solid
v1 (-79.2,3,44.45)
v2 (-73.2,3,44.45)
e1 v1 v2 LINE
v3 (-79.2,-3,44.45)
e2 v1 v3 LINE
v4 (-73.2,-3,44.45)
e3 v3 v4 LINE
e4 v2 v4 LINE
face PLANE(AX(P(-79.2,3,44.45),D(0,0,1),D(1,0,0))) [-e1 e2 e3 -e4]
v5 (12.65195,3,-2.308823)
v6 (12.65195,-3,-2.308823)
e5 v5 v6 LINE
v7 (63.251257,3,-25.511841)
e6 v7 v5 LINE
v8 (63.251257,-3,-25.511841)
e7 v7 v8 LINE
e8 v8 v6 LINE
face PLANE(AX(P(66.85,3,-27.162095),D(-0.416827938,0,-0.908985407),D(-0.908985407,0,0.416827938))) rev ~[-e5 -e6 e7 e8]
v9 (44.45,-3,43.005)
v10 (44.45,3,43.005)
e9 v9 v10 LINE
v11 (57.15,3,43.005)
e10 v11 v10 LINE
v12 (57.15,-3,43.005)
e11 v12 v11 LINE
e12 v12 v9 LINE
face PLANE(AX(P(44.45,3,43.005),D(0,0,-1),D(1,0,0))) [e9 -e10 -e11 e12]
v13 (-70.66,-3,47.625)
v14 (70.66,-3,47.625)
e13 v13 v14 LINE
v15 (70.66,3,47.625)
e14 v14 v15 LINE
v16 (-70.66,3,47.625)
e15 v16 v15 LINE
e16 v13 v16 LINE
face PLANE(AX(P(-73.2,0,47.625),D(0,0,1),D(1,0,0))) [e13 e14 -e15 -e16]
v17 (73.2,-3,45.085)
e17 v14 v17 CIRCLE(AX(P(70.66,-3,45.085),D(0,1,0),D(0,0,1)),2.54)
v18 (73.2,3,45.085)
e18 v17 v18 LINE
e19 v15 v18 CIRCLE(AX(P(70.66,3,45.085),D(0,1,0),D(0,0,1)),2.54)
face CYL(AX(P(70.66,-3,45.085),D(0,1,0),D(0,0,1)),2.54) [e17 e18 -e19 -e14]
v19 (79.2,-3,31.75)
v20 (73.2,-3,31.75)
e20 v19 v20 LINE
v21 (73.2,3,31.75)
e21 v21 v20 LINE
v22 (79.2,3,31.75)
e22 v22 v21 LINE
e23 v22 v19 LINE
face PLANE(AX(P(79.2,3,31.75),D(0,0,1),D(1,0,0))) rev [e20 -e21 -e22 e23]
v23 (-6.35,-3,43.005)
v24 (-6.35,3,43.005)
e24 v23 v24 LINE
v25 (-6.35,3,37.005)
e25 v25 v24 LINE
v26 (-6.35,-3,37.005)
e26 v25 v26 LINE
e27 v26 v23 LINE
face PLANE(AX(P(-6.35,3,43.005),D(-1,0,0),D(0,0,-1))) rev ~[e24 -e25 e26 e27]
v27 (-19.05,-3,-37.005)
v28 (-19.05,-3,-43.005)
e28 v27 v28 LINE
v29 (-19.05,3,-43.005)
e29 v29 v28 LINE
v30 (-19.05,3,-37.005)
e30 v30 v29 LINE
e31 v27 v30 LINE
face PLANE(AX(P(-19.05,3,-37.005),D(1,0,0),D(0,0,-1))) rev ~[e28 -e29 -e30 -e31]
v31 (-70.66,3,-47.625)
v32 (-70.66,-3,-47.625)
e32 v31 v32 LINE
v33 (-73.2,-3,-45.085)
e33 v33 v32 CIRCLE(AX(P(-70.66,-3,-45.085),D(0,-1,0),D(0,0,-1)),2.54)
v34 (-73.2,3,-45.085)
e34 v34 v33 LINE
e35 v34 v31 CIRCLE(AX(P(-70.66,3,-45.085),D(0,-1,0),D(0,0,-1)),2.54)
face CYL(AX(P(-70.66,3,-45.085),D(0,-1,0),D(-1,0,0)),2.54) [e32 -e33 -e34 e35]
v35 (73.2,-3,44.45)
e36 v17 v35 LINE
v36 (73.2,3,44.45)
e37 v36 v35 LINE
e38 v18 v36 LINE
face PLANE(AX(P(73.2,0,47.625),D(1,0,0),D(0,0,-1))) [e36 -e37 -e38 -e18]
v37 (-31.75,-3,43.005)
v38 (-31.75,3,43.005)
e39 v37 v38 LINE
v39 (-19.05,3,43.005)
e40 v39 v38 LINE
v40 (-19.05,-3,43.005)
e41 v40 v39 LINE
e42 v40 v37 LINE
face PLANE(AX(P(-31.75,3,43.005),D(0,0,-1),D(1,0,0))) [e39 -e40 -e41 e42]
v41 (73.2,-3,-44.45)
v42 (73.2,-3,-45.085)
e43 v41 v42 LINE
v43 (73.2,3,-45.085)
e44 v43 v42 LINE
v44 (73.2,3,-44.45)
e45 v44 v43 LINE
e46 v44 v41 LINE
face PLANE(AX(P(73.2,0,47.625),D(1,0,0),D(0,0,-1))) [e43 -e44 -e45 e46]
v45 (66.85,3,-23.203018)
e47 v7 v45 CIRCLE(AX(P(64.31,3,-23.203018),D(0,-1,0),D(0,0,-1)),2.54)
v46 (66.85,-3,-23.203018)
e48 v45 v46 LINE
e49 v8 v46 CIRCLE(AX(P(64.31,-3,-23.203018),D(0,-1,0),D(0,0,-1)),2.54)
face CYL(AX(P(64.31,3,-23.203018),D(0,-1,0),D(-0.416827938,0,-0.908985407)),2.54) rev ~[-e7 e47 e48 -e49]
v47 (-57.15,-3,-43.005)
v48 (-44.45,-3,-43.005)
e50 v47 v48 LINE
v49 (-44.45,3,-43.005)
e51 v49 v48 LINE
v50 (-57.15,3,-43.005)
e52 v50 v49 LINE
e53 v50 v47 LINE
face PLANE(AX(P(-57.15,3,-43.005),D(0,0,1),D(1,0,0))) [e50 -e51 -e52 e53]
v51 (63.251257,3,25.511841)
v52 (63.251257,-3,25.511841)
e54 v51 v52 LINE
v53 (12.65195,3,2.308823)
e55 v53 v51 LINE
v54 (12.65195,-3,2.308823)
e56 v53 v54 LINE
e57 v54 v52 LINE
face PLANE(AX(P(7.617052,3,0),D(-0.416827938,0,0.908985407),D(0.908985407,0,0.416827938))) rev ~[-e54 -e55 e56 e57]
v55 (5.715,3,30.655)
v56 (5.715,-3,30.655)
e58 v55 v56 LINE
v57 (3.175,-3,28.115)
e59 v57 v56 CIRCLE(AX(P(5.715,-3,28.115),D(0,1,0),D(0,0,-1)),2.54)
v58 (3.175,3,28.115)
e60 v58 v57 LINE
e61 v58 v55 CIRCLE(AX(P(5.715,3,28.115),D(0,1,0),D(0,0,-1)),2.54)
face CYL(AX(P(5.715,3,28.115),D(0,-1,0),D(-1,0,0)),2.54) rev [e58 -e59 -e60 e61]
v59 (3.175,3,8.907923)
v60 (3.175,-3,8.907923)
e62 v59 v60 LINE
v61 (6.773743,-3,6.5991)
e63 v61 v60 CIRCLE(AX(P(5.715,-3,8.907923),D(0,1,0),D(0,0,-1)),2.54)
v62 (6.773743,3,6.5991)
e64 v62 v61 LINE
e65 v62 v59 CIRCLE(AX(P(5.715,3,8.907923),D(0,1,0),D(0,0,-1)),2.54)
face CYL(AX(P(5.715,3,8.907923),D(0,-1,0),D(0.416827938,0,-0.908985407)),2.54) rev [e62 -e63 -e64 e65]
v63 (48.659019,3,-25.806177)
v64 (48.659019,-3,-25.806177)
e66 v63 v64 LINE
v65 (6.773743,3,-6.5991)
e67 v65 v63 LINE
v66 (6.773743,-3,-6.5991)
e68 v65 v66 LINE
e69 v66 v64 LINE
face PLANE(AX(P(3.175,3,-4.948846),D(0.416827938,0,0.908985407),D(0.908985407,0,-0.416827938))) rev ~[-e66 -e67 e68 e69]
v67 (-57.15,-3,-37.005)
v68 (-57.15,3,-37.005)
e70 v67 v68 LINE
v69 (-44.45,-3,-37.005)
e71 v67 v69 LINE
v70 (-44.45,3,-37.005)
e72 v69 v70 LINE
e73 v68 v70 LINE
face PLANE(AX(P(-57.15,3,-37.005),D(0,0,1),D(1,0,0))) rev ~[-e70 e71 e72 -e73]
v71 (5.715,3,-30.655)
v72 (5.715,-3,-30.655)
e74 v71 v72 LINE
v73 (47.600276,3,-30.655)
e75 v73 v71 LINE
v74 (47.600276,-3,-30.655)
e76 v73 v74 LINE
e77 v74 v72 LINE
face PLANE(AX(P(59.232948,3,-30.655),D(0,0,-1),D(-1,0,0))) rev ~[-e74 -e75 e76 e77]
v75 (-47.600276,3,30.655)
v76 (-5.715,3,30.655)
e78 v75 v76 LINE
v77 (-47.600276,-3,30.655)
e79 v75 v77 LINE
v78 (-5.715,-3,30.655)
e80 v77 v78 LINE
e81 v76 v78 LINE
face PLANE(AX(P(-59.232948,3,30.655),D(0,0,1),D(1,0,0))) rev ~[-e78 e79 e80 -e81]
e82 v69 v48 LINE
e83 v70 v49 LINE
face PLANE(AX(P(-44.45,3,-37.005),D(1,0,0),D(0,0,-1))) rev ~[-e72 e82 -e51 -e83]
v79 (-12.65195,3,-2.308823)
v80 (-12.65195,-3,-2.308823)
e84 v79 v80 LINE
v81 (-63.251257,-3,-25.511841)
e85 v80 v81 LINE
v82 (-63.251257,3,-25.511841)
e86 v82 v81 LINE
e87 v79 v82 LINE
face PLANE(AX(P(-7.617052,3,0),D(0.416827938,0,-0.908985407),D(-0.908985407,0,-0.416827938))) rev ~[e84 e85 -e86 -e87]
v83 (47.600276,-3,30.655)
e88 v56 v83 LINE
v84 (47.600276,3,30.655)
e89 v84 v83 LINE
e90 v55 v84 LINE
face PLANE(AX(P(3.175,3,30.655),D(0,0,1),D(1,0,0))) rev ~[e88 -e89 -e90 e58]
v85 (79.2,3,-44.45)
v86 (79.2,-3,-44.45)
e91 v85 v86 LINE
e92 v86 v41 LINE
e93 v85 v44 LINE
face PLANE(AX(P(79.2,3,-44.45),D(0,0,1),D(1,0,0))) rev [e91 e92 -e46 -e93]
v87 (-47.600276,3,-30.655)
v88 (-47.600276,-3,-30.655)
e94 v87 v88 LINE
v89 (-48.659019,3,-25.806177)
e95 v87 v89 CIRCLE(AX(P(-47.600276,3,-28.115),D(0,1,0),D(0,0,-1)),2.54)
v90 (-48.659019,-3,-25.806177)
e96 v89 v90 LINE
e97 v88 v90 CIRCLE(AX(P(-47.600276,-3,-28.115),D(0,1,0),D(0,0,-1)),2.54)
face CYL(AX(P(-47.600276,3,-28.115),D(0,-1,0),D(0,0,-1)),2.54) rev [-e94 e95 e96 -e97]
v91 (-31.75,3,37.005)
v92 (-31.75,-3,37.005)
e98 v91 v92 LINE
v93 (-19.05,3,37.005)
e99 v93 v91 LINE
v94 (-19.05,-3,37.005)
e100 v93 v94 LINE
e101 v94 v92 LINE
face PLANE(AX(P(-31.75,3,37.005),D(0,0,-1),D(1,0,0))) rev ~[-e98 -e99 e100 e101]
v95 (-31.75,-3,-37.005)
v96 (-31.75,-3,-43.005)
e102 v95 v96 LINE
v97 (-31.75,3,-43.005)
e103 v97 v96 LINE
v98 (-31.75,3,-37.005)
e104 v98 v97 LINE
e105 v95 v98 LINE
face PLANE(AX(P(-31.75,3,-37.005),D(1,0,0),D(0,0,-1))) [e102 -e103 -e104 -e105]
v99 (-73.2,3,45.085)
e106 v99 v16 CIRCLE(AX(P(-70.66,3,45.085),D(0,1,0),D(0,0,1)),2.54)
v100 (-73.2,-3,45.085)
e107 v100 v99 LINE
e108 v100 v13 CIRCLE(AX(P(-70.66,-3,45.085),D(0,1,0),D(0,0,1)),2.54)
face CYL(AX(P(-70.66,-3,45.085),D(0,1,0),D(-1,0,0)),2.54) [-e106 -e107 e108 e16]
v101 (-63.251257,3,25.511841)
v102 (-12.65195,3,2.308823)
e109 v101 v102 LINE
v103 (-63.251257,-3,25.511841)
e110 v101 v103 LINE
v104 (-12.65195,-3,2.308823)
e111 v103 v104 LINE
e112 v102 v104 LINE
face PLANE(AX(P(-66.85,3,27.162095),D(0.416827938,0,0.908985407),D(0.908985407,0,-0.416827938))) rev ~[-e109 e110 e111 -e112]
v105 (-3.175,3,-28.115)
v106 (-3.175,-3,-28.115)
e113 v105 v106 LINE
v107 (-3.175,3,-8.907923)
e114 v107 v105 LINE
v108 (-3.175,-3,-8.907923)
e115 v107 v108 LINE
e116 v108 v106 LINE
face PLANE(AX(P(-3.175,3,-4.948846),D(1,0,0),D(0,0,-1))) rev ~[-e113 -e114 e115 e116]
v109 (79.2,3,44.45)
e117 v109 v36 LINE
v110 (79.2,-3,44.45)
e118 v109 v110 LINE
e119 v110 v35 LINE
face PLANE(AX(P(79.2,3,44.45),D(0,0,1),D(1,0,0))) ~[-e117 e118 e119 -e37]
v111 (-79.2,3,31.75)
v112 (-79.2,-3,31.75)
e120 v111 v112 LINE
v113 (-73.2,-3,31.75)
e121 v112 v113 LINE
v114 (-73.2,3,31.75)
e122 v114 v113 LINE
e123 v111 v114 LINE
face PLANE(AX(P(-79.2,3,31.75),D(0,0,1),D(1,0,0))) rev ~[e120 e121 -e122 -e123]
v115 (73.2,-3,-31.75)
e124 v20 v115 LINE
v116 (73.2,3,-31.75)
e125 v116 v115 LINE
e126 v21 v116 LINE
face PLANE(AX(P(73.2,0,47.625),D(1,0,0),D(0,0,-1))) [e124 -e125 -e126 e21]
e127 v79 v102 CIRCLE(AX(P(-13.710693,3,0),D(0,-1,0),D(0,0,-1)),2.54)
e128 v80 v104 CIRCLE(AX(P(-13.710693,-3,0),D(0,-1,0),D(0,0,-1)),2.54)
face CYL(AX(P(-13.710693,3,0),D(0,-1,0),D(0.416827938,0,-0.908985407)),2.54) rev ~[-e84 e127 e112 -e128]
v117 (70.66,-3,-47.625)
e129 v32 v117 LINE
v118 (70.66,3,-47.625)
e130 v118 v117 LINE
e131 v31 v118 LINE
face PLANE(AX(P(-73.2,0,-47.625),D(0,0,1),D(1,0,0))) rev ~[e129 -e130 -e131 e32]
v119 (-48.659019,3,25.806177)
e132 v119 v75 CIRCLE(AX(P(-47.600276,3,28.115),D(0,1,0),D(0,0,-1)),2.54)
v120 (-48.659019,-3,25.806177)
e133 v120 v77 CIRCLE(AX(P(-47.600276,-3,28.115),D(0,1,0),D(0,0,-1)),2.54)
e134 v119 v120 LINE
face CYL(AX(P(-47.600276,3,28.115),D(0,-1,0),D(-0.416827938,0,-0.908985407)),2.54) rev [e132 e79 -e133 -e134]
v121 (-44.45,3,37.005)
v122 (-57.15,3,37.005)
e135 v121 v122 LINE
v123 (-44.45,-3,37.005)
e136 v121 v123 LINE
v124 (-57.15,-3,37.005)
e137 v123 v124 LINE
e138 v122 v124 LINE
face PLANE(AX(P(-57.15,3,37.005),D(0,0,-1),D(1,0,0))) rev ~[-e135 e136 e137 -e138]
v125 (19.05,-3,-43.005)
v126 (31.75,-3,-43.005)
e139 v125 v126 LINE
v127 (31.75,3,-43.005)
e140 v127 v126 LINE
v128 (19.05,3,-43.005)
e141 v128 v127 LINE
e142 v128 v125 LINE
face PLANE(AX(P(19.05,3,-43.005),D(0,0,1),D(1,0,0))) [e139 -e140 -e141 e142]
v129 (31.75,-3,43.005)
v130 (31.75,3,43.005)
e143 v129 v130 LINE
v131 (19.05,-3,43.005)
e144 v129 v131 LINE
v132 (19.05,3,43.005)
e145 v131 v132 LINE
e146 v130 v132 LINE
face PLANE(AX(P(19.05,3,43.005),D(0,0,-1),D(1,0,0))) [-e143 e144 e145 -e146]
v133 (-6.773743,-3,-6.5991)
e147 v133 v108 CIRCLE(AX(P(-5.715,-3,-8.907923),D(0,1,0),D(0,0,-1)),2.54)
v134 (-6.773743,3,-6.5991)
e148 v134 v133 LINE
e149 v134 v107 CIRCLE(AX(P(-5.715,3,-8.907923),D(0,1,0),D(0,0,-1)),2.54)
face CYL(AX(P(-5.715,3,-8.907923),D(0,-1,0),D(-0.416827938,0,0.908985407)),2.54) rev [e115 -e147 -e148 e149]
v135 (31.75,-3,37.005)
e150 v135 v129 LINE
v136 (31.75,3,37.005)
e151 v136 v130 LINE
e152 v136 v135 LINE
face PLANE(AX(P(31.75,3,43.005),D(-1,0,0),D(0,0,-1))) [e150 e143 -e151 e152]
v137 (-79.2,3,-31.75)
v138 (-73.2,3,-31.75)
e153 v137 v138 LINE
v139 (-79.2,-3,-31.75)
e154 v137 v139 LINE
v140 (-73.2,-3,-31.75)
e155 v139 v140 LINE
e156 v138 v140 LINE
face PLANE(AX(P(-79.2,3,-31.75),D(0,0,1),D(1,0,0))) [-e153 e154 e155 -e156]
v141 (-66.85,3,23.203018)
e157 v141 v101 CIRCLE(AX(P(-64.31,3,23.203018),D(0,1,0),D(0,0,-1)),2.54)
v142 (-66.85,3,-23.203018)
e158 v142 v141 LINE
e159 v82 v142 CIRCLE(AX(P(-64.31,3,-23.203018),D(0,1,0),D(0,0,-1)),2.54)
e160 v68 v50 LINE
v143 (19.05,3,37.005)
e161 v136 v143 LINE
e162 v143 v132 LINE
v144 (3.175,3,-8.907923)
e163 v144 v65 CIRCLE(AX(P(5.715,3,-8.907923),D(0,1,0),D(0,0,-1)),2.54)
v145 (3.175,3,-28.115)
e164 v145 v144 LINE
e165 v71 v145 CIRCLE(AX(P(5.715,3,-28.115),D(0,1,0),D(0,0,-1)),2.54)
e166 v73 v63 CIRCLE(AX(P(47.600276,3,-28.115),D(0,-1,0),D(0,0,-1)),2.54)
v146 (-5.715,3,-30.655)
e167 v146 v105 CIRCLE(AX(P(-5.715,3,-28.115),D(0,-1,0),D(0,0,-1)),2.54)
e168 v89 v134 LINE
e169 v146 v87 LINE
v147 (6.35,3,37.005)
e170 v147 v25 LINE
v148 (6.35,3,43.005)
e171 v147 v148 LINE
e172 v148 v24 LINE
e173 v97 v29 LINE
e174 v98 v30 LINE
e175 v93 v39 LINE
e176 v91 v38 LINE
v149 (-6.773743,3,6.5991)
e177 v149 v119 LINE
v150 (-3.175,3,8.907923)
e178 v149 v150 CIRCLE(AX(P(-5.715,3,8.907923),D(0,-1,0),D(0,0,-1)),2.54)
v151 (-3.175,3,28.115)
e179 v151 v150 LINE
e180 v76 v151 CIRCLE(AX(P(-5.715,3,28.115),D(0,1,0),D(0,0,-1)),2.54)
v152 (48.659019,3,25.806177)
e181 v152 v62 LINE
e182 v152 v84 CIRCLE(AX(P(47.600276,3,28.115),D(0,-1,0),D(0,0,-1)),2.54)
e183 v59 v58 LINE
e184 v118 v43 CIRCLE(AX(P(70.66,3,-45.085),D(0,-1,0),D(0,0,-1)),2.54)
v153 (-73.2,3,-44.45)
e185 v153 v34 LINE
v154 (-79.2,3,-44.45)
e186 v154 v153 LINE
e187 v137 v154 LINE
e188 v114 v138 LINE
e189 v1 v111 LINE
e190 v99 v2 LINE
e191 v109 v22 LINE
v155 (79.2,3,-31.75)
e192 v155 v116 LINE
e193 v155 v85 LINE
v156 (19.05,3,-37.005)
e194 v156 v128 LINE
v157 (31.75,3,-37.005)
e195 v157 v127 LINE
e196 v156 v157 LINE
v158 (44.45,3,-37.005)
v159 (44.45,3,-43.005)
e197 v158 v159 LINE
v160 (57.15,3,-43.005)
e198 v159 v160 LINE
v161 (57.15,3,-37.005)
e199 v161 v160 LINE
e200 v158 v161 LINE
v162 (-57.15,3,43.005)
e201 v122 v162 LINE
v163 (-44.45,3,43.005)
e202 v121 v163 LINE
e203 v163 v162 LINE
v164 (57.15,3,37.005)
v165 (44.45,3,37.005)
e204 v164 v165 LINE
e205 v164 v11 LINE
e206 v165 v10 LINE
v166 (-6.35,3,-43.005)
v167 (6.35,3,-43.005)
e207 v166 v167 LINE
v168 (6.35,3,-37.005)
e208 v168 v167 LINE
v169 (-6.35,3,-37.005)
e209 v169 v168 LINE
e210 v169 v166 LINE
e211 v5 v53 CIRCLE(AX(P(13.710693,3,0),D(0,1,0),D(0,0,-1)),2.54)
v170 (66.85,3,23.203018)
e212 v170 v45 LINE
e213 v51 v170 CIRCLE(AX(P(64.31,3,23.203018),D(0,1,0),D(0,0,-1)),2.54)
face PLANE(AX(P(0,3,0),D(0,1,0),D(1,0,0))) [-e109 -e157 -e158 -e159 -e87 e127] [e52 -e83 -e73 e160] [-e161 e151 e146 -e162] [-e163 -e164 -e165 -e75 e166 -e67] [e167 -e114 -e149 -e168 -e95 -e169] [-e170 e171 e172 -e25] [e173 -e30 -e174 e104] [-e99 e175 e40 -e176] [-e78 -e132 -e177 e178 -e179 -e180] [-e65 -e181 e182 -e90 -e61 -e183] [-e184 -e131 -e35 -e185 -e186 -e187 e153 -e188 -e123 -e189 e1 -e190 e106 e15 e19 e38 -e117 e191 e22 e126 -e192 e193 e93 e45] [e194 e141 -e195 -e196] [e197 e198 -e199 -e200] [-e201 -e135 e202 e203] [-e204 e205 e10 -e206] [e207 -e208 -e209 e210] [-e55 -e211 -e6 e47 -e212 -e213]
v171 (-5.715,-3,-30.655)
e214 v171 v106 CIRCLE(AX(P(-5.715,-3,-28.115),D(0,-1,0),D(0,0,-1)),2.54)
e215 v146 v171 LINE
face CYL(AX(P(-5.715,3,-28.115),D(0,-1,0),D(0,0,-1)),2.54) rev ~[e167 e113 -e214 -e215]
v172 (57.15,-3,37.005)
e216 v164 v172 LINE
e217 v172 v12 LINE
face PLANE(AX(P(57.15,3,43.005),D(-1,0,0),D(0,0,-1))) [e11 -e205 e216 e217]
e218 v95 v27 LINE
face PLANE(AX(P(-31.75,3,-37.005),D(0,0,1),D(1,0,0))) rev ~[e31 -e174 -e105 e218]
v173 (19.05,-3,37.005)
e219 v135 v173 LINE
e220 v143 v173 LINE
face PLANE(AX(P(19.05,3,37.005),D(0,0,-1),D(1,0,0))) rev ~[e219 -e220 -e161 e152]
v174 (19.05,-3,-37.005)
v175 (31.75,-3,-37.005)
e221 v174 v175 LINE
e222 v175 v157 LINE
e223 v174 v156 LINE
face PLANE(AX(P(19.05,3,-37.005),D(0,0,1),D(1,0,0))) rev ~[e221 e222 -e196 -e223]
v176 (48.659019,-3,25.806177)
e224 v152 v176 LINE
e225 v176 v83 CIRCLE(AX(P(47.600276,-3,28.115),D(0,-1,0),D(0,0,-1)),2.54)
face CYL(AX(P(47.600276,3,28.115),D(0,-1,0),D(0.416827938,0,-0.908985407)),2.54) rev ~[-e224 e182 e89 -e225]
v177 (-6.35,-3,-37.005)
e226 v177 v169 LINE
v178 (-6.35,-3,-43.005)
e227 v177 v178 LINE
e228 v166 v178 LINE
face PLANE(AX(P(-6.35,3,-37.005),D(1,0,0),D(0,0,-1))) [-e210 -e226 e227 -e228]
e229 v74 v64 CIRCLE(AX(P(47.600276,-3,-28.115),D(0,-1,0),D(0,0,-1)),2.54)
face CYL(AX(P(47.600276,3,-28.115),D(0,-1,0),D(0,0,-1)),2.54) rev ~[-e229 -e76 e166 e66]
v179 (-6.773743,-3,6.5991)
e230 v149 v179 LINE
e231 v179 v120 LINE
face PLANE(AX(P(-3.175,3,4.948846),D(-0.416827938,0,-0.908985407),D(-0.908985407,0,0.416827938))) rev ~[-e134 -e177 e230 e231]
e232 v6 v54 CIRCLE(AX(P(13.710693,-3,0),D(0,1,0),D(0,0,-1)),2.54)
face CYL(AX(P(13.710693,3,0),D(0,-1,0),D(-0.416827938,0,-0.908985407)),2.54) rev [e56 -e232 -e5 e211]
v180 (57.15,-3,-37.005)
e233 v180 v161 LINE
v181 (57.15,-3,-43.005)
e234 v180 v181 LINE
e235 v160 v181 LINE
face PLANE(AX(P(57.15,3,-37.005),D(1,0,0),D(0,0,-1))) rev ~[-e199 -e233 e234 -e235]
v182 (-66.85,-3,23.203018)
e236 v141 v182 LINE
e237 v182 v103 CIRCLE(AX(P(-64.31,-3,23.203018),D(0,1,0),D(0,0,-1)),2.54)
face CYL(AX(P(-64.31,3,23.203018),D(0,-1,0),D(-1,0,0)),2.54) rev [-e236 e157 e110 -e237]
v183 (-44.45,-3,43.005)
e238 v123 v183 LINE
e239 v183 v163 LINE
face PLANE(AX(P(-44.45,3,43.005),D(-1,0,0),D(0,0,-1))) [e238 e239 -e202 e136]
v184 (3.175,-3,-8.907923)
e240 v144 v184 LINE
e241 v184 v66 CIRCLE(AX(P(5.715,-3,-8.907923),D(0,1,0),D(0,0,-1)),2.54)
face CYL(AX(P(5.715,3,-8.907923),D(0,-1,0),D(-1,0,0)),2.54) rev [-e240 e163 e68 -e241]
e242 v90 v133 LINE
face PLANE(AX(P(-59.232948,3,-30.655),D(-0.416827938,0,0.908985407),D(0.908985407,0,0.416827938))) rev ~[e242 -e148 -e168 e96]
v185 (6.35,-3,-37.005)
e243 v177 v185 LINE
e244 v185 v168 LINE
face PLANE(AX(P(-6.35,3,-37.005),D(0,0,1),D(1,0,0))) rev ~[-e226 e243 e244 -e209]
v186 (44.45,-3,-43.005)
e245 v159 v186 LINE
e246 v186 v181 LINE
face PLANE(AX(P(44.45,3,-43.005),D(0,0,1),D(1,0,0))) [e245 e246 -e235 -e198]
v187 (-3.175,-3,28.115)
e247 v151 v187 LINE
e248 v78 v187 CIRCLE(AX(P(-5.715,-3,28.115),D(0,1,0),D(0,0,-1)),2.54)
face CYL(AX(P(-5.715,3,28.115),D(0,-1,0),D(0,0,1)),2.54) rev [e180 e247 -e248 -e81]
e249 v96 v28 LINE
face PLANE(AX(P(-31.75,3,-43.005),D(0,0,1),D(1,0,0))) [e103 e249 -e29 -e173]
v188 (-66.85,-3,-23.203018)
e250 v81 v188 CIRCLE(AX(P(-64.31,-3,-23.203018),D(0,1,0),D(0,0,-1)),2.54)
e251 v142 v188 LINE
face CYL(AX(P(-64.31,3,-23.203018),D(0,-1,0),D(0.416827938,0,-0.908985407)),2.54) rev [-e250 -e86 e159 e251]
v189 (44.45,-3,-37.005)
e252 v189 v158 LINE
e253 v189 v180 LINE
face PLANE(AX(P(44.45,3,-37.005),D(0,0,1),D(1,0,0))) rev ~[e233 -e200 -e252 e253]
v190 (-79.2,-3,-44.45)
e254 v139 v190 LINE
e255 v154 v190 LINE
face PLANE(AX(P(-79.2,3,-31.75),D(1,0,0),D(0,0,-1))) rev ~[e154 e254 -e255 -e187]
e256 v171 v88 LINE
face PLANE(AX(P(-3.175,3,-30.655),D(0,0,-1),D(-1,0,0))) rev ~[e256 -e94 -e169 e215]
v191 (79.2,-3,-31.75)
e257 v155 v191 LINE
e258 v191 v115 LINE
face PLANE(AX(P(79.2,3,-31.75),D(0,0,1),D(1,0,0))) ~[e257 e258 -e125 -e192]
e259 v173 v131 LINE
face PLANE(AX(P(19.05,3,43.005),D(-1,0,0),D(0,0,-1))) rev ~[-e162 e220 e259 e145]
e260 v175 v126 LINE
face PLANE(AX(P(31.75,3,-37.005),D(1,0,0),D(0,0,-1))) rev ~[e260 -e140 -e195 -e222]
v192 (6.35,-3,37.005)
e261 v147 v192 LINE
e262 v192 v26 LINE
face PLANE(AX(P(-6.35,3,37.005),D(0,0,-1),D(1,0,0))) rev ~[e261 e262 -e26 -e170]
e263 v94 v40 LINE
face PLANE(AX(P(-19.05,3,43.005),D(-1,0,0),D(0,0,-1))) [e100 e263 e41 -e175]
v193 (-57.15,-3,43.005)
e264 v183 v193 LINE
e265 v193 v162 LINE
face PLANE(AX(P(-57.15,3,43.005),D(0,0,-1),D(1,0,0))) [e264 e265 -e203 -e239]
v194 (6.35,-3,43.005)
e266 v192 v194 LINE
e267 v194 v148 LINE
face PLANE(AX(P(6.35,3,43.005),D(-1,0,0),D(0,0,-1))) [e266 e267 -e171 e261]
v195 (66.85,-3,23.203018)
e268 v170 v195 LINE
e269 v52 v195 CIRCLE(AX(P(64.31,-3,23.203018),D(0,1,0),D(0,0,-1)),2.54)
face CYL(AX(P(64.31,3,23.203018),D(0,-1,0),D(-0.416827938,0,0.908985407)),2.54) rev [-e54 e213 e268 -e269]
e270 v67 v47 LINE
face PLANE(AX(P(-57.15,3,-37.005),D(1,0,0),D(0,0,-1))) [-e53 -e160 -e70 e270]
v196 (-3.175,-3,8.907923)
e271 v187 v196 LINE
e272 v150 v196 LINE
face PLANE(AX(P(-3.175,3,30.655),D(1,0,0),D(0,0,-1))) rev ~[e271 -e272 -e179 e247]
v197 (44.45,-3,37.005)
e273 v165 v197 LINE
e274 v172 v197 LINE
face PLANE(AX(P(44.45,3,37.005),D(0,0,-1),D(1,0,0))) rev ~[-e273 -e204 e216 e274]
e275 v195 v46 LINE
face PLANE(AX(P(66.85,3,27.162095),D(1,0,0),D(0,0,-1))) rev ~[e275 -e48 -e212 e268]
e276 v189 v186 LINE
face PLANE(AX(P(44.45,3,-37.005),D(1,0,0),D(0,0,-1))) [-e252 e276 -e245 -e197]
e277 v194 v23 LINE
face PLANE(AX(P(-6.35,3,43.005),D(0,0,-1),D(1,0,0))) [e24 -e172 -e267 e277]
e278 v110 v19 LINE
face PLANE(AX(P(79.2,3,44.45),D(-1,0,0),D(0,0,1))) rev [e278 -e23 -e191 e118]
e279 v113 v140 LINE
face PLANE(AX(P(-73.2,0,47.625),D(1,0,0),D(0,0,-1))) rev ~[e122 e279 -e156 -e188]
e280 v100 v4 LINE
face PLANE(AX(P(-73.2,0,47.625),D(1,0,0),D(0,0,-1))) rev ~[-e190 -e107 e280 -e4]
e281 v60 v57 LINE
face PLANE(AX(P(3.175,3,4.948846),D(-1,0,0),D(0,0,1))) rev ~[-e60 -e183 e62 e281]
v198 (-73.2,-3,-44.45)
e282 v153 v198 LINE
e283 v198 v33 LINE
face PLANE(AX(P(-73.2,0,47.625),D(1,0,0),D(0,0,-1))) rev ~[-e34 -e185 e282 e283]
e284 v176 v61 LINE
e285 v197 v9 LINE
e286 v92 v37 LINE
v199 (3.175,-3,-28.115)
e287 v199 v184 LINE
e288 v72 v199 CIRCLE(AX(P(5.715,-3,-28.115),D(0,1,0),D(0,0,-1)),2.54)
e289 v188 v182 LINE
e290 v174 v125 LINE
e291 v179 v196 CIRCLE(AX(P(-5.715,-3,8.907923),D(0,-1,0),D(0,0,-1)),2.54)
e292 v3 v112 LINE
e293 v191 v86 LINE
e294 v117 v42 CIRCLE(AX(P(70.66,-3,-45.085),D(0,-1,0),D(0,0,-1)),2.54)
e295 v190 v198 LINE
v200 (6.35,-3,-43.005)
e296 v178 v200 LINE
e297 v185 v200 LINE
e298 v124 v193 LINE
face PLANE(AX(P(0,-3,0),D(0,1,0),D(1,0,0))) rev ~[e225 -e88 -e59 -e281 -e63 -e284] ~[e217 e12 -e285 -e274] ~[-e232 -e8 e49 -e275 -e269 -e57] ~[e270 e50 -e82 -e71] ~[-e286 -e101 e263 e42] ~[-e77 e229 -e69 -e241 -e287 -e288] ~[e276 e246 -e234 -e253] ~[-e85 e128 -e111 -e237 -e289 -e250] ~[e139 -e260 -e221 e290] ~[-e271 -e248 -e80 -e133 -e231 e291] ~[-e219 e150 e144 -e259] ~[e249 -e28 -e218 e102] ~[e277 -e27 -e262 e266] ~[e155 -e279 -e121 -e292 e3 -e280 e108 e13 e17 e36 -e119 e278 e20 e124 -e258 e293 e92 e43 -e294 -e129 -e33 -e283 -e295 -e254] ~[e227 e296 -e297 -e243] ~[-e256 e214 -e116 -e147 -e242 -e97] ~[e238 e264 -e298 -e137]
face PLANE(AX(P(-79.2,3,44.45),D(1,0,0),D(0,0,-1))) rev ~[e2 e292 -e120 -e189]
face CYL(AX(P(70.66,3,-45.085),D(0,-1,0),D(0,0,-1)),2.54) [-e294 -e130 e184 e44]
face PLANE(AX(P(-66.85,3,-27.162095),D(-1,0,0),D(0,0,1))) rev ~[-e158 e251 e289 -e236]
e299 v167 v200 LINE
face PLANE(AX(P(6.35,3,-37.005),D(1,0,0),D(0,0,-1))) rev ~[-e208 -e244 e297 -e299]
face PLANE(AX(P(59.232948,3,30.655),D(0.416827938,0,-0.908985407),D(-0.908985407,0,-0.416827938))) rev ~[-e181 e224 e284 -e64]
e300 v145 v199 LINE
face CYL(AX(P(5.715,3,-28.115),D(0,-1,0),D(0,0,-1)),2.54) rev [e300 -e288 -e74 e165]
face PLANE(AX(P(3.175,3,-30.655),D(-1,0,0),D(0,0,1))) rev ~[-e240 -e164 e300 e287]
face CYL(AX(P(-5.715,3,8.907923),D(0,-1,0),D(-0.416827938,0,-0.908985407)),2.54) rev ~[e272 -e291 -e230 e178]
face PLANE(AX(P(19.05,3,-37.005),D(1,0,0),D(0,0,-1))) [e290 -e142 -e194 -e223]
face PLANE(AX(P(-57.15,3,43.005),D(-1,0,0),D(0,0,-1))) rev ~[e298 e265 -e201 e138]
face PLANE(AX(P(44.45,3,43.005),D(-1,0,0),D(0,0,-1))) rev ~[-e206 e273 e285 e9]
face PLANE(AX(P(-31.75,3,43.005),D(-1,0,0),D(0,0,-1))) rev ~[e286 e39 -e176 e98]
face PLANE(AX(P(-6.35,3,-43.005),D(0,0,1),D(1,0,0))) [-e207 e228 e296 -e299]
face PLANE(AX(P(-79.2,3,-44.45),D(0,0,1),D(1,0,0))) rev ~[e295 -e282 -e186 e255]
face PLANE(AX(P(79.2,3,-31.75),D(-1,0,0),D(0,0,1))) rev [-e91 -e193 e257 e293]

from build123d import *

# Parameters (mm, degrees)
SKETCH1_W           = 146.4
SKETCH1_H           = 95.25
BOSS_EXTRUDE1_DEPTH = 3
SKETCH2_W           = 6
SKETCH2_H           = 12.7
BOSS_EXTRUDE2_DEPTH = 6
SKETCH3_W           = 12.7
SKETCH3_H           = 6
CUT_EXTRUDE1_DEPTH  = 93.610909859
LPATTERN3_COUNT     = 3
LPATTERN3_PITCH     = 25.4
LPATTERN3_COL_COUNT = 3
LPATTERN3_COL_PITCH = 25.4
CUT_EXTRUDE2_DEPTH  = 93.610909859
FILLET1_R           = 2.54


with BuildPart() as part:
    # Sketch1 → Boss-Extrude1 (new, symmetric)
    with BuildSketch(Plane(origin=(0, 0, 0), x_dir=(1, 0, 0), z_dir=(0, 1, 0))):
        Rectangle(SKETCH1_W, SKETCH1_H)
    extrude(amount=BOSS_EXTRUDE1_DEPTH, both=True)

    # Sketch2 → Boss-Extrude2 (add)
    with BuildSketch(Plane(origin=(0, 3, 0), x_dir=(1, 0, 0), z_dir=(0, 1, 0))):
        with Locations((-76.2, 38.1)):
            Rectangle(SKETCH2_W, SKETCH2_H)
        with Locations((-76.2, -38.1)):
            Rectangle(SKETCH2_W, SKETCH2_H)
    boss_extrude2 = extrude(amount=-BOSS_EXTRUDE2_DEPTH)

    # Mirror1: Boss-Extrude2 across plane
    add(boss_extrude2.mirror(Plane(origin=(0, 0, 0), x_dir=(0, 0, 1), z_dir=(1, 0, 0))))

    # Sketch3 → Cut-Extrude1 (cut, symmetric)
    with BuildSketch(Plane(origin=(0, 3, 0), x_dir=(1, 0, 0), z_dir=(0, 1, 0))):
        with Locations((0, -40.005)):
            Rectangle(SKETCH3_W, SKETCH3_H)
        with Locations((0, 40.005)):
            Rectangle(SKETCH3_W, SKETCH3_H)
    cut_extrude1 = extrude(amount=CUT_EXTRUDE1_DEPTH, both=True, mode=Mode.SUBTRACT)

    # LPattern3: Cut-Extrude1 ×3
    with Locations(*[(i * LPATTERN3_PITCH, 0, 0) for i in range(1, LPATTERN3_COUNT)]):
        add(cut_extrude1, mode=Mode.SUBTRACT)

    # LPattern3 col: Cut-Extrude1 ×3
    with Locations(*[(-i * LPATTERN3_COL_PITCH, 0, 0) for i in range(1, LPATTERN3_COL_COUNT)]):
        add(cut_extrude1, mode=Mode.SUBTRACT)

    # Sketch4 → Cut-Extrude2 (cut, through all)
    with BuildSketch(Plane(origin=(0, 3, 0), x_dir=(1, 0, 0), z_dir=(0, 1, 0))):
        Polygon((-3.175, 30.655), (-59.232948188, 30.655), (-3.175, 4.948845898), align=None)
        Polygon((-7.617051812, 0), (-66.85, 27.16209464), (-66.85, -27.16209464), align=None)
        Polygon((-3.175, -4.948845898), (-59.232948188, -30.655), (-3.175, -30.655), align=None)
        Polygon((59.232948188, -30.655), (3.175, -4.948845898), (3.175, -30.655), align=None)
        Polygon((66.85, 27.16209464), (7.617051812, 0), (66.85, -27.16209464), align=None)
        Polygon((59.232948188, 30.655), (3.175, 30.655), (3.175, 4.948845898), align=None)
    extrude(amount=-CUT_EXTRUDE2_DEPTH, mode=Mode.SUBTRACT)

    # Fillet1
    fillet1_edges = [part.edges().sort_by_distance(p)[0] for p in [
        (-3.175, 0, 4.948845898),
        (-3.175, 0, 30.655),
        (-59.232948188, 0, 30.655),
        (-7.617051812, 0, 0),
        (-66.85, 0, 27.16209464),
        (-66.85, 0, -27.16209464),
        (66.85, 0, -27.16209464),
        (66.85, 0, 27.16209464),
        (7.617051812, 0, 0),
        (3.175, 0, 4.948845898),
        (59.232948188, 0, 30.655),
        (3.175, 0, 30.655),
        (3.175, 0, -30.655),
        (59.232948188, 0, -30.655),
        (3.175, 0, -4.948845898),
        (-59.232948188, 0, -30.655),
        (-3.175, 0, -30.655),
        (-3.175, 0, -4.948845898),
        (-73.2, 0, -47.625),
        (73.2, 0, -47.625),
        (73.2, 0, 47.625),
        (-73.2, 0, 47.625),
    ]]
    fillet(fillet1_edges, radius=FILLET1_R)


solid = part.part
